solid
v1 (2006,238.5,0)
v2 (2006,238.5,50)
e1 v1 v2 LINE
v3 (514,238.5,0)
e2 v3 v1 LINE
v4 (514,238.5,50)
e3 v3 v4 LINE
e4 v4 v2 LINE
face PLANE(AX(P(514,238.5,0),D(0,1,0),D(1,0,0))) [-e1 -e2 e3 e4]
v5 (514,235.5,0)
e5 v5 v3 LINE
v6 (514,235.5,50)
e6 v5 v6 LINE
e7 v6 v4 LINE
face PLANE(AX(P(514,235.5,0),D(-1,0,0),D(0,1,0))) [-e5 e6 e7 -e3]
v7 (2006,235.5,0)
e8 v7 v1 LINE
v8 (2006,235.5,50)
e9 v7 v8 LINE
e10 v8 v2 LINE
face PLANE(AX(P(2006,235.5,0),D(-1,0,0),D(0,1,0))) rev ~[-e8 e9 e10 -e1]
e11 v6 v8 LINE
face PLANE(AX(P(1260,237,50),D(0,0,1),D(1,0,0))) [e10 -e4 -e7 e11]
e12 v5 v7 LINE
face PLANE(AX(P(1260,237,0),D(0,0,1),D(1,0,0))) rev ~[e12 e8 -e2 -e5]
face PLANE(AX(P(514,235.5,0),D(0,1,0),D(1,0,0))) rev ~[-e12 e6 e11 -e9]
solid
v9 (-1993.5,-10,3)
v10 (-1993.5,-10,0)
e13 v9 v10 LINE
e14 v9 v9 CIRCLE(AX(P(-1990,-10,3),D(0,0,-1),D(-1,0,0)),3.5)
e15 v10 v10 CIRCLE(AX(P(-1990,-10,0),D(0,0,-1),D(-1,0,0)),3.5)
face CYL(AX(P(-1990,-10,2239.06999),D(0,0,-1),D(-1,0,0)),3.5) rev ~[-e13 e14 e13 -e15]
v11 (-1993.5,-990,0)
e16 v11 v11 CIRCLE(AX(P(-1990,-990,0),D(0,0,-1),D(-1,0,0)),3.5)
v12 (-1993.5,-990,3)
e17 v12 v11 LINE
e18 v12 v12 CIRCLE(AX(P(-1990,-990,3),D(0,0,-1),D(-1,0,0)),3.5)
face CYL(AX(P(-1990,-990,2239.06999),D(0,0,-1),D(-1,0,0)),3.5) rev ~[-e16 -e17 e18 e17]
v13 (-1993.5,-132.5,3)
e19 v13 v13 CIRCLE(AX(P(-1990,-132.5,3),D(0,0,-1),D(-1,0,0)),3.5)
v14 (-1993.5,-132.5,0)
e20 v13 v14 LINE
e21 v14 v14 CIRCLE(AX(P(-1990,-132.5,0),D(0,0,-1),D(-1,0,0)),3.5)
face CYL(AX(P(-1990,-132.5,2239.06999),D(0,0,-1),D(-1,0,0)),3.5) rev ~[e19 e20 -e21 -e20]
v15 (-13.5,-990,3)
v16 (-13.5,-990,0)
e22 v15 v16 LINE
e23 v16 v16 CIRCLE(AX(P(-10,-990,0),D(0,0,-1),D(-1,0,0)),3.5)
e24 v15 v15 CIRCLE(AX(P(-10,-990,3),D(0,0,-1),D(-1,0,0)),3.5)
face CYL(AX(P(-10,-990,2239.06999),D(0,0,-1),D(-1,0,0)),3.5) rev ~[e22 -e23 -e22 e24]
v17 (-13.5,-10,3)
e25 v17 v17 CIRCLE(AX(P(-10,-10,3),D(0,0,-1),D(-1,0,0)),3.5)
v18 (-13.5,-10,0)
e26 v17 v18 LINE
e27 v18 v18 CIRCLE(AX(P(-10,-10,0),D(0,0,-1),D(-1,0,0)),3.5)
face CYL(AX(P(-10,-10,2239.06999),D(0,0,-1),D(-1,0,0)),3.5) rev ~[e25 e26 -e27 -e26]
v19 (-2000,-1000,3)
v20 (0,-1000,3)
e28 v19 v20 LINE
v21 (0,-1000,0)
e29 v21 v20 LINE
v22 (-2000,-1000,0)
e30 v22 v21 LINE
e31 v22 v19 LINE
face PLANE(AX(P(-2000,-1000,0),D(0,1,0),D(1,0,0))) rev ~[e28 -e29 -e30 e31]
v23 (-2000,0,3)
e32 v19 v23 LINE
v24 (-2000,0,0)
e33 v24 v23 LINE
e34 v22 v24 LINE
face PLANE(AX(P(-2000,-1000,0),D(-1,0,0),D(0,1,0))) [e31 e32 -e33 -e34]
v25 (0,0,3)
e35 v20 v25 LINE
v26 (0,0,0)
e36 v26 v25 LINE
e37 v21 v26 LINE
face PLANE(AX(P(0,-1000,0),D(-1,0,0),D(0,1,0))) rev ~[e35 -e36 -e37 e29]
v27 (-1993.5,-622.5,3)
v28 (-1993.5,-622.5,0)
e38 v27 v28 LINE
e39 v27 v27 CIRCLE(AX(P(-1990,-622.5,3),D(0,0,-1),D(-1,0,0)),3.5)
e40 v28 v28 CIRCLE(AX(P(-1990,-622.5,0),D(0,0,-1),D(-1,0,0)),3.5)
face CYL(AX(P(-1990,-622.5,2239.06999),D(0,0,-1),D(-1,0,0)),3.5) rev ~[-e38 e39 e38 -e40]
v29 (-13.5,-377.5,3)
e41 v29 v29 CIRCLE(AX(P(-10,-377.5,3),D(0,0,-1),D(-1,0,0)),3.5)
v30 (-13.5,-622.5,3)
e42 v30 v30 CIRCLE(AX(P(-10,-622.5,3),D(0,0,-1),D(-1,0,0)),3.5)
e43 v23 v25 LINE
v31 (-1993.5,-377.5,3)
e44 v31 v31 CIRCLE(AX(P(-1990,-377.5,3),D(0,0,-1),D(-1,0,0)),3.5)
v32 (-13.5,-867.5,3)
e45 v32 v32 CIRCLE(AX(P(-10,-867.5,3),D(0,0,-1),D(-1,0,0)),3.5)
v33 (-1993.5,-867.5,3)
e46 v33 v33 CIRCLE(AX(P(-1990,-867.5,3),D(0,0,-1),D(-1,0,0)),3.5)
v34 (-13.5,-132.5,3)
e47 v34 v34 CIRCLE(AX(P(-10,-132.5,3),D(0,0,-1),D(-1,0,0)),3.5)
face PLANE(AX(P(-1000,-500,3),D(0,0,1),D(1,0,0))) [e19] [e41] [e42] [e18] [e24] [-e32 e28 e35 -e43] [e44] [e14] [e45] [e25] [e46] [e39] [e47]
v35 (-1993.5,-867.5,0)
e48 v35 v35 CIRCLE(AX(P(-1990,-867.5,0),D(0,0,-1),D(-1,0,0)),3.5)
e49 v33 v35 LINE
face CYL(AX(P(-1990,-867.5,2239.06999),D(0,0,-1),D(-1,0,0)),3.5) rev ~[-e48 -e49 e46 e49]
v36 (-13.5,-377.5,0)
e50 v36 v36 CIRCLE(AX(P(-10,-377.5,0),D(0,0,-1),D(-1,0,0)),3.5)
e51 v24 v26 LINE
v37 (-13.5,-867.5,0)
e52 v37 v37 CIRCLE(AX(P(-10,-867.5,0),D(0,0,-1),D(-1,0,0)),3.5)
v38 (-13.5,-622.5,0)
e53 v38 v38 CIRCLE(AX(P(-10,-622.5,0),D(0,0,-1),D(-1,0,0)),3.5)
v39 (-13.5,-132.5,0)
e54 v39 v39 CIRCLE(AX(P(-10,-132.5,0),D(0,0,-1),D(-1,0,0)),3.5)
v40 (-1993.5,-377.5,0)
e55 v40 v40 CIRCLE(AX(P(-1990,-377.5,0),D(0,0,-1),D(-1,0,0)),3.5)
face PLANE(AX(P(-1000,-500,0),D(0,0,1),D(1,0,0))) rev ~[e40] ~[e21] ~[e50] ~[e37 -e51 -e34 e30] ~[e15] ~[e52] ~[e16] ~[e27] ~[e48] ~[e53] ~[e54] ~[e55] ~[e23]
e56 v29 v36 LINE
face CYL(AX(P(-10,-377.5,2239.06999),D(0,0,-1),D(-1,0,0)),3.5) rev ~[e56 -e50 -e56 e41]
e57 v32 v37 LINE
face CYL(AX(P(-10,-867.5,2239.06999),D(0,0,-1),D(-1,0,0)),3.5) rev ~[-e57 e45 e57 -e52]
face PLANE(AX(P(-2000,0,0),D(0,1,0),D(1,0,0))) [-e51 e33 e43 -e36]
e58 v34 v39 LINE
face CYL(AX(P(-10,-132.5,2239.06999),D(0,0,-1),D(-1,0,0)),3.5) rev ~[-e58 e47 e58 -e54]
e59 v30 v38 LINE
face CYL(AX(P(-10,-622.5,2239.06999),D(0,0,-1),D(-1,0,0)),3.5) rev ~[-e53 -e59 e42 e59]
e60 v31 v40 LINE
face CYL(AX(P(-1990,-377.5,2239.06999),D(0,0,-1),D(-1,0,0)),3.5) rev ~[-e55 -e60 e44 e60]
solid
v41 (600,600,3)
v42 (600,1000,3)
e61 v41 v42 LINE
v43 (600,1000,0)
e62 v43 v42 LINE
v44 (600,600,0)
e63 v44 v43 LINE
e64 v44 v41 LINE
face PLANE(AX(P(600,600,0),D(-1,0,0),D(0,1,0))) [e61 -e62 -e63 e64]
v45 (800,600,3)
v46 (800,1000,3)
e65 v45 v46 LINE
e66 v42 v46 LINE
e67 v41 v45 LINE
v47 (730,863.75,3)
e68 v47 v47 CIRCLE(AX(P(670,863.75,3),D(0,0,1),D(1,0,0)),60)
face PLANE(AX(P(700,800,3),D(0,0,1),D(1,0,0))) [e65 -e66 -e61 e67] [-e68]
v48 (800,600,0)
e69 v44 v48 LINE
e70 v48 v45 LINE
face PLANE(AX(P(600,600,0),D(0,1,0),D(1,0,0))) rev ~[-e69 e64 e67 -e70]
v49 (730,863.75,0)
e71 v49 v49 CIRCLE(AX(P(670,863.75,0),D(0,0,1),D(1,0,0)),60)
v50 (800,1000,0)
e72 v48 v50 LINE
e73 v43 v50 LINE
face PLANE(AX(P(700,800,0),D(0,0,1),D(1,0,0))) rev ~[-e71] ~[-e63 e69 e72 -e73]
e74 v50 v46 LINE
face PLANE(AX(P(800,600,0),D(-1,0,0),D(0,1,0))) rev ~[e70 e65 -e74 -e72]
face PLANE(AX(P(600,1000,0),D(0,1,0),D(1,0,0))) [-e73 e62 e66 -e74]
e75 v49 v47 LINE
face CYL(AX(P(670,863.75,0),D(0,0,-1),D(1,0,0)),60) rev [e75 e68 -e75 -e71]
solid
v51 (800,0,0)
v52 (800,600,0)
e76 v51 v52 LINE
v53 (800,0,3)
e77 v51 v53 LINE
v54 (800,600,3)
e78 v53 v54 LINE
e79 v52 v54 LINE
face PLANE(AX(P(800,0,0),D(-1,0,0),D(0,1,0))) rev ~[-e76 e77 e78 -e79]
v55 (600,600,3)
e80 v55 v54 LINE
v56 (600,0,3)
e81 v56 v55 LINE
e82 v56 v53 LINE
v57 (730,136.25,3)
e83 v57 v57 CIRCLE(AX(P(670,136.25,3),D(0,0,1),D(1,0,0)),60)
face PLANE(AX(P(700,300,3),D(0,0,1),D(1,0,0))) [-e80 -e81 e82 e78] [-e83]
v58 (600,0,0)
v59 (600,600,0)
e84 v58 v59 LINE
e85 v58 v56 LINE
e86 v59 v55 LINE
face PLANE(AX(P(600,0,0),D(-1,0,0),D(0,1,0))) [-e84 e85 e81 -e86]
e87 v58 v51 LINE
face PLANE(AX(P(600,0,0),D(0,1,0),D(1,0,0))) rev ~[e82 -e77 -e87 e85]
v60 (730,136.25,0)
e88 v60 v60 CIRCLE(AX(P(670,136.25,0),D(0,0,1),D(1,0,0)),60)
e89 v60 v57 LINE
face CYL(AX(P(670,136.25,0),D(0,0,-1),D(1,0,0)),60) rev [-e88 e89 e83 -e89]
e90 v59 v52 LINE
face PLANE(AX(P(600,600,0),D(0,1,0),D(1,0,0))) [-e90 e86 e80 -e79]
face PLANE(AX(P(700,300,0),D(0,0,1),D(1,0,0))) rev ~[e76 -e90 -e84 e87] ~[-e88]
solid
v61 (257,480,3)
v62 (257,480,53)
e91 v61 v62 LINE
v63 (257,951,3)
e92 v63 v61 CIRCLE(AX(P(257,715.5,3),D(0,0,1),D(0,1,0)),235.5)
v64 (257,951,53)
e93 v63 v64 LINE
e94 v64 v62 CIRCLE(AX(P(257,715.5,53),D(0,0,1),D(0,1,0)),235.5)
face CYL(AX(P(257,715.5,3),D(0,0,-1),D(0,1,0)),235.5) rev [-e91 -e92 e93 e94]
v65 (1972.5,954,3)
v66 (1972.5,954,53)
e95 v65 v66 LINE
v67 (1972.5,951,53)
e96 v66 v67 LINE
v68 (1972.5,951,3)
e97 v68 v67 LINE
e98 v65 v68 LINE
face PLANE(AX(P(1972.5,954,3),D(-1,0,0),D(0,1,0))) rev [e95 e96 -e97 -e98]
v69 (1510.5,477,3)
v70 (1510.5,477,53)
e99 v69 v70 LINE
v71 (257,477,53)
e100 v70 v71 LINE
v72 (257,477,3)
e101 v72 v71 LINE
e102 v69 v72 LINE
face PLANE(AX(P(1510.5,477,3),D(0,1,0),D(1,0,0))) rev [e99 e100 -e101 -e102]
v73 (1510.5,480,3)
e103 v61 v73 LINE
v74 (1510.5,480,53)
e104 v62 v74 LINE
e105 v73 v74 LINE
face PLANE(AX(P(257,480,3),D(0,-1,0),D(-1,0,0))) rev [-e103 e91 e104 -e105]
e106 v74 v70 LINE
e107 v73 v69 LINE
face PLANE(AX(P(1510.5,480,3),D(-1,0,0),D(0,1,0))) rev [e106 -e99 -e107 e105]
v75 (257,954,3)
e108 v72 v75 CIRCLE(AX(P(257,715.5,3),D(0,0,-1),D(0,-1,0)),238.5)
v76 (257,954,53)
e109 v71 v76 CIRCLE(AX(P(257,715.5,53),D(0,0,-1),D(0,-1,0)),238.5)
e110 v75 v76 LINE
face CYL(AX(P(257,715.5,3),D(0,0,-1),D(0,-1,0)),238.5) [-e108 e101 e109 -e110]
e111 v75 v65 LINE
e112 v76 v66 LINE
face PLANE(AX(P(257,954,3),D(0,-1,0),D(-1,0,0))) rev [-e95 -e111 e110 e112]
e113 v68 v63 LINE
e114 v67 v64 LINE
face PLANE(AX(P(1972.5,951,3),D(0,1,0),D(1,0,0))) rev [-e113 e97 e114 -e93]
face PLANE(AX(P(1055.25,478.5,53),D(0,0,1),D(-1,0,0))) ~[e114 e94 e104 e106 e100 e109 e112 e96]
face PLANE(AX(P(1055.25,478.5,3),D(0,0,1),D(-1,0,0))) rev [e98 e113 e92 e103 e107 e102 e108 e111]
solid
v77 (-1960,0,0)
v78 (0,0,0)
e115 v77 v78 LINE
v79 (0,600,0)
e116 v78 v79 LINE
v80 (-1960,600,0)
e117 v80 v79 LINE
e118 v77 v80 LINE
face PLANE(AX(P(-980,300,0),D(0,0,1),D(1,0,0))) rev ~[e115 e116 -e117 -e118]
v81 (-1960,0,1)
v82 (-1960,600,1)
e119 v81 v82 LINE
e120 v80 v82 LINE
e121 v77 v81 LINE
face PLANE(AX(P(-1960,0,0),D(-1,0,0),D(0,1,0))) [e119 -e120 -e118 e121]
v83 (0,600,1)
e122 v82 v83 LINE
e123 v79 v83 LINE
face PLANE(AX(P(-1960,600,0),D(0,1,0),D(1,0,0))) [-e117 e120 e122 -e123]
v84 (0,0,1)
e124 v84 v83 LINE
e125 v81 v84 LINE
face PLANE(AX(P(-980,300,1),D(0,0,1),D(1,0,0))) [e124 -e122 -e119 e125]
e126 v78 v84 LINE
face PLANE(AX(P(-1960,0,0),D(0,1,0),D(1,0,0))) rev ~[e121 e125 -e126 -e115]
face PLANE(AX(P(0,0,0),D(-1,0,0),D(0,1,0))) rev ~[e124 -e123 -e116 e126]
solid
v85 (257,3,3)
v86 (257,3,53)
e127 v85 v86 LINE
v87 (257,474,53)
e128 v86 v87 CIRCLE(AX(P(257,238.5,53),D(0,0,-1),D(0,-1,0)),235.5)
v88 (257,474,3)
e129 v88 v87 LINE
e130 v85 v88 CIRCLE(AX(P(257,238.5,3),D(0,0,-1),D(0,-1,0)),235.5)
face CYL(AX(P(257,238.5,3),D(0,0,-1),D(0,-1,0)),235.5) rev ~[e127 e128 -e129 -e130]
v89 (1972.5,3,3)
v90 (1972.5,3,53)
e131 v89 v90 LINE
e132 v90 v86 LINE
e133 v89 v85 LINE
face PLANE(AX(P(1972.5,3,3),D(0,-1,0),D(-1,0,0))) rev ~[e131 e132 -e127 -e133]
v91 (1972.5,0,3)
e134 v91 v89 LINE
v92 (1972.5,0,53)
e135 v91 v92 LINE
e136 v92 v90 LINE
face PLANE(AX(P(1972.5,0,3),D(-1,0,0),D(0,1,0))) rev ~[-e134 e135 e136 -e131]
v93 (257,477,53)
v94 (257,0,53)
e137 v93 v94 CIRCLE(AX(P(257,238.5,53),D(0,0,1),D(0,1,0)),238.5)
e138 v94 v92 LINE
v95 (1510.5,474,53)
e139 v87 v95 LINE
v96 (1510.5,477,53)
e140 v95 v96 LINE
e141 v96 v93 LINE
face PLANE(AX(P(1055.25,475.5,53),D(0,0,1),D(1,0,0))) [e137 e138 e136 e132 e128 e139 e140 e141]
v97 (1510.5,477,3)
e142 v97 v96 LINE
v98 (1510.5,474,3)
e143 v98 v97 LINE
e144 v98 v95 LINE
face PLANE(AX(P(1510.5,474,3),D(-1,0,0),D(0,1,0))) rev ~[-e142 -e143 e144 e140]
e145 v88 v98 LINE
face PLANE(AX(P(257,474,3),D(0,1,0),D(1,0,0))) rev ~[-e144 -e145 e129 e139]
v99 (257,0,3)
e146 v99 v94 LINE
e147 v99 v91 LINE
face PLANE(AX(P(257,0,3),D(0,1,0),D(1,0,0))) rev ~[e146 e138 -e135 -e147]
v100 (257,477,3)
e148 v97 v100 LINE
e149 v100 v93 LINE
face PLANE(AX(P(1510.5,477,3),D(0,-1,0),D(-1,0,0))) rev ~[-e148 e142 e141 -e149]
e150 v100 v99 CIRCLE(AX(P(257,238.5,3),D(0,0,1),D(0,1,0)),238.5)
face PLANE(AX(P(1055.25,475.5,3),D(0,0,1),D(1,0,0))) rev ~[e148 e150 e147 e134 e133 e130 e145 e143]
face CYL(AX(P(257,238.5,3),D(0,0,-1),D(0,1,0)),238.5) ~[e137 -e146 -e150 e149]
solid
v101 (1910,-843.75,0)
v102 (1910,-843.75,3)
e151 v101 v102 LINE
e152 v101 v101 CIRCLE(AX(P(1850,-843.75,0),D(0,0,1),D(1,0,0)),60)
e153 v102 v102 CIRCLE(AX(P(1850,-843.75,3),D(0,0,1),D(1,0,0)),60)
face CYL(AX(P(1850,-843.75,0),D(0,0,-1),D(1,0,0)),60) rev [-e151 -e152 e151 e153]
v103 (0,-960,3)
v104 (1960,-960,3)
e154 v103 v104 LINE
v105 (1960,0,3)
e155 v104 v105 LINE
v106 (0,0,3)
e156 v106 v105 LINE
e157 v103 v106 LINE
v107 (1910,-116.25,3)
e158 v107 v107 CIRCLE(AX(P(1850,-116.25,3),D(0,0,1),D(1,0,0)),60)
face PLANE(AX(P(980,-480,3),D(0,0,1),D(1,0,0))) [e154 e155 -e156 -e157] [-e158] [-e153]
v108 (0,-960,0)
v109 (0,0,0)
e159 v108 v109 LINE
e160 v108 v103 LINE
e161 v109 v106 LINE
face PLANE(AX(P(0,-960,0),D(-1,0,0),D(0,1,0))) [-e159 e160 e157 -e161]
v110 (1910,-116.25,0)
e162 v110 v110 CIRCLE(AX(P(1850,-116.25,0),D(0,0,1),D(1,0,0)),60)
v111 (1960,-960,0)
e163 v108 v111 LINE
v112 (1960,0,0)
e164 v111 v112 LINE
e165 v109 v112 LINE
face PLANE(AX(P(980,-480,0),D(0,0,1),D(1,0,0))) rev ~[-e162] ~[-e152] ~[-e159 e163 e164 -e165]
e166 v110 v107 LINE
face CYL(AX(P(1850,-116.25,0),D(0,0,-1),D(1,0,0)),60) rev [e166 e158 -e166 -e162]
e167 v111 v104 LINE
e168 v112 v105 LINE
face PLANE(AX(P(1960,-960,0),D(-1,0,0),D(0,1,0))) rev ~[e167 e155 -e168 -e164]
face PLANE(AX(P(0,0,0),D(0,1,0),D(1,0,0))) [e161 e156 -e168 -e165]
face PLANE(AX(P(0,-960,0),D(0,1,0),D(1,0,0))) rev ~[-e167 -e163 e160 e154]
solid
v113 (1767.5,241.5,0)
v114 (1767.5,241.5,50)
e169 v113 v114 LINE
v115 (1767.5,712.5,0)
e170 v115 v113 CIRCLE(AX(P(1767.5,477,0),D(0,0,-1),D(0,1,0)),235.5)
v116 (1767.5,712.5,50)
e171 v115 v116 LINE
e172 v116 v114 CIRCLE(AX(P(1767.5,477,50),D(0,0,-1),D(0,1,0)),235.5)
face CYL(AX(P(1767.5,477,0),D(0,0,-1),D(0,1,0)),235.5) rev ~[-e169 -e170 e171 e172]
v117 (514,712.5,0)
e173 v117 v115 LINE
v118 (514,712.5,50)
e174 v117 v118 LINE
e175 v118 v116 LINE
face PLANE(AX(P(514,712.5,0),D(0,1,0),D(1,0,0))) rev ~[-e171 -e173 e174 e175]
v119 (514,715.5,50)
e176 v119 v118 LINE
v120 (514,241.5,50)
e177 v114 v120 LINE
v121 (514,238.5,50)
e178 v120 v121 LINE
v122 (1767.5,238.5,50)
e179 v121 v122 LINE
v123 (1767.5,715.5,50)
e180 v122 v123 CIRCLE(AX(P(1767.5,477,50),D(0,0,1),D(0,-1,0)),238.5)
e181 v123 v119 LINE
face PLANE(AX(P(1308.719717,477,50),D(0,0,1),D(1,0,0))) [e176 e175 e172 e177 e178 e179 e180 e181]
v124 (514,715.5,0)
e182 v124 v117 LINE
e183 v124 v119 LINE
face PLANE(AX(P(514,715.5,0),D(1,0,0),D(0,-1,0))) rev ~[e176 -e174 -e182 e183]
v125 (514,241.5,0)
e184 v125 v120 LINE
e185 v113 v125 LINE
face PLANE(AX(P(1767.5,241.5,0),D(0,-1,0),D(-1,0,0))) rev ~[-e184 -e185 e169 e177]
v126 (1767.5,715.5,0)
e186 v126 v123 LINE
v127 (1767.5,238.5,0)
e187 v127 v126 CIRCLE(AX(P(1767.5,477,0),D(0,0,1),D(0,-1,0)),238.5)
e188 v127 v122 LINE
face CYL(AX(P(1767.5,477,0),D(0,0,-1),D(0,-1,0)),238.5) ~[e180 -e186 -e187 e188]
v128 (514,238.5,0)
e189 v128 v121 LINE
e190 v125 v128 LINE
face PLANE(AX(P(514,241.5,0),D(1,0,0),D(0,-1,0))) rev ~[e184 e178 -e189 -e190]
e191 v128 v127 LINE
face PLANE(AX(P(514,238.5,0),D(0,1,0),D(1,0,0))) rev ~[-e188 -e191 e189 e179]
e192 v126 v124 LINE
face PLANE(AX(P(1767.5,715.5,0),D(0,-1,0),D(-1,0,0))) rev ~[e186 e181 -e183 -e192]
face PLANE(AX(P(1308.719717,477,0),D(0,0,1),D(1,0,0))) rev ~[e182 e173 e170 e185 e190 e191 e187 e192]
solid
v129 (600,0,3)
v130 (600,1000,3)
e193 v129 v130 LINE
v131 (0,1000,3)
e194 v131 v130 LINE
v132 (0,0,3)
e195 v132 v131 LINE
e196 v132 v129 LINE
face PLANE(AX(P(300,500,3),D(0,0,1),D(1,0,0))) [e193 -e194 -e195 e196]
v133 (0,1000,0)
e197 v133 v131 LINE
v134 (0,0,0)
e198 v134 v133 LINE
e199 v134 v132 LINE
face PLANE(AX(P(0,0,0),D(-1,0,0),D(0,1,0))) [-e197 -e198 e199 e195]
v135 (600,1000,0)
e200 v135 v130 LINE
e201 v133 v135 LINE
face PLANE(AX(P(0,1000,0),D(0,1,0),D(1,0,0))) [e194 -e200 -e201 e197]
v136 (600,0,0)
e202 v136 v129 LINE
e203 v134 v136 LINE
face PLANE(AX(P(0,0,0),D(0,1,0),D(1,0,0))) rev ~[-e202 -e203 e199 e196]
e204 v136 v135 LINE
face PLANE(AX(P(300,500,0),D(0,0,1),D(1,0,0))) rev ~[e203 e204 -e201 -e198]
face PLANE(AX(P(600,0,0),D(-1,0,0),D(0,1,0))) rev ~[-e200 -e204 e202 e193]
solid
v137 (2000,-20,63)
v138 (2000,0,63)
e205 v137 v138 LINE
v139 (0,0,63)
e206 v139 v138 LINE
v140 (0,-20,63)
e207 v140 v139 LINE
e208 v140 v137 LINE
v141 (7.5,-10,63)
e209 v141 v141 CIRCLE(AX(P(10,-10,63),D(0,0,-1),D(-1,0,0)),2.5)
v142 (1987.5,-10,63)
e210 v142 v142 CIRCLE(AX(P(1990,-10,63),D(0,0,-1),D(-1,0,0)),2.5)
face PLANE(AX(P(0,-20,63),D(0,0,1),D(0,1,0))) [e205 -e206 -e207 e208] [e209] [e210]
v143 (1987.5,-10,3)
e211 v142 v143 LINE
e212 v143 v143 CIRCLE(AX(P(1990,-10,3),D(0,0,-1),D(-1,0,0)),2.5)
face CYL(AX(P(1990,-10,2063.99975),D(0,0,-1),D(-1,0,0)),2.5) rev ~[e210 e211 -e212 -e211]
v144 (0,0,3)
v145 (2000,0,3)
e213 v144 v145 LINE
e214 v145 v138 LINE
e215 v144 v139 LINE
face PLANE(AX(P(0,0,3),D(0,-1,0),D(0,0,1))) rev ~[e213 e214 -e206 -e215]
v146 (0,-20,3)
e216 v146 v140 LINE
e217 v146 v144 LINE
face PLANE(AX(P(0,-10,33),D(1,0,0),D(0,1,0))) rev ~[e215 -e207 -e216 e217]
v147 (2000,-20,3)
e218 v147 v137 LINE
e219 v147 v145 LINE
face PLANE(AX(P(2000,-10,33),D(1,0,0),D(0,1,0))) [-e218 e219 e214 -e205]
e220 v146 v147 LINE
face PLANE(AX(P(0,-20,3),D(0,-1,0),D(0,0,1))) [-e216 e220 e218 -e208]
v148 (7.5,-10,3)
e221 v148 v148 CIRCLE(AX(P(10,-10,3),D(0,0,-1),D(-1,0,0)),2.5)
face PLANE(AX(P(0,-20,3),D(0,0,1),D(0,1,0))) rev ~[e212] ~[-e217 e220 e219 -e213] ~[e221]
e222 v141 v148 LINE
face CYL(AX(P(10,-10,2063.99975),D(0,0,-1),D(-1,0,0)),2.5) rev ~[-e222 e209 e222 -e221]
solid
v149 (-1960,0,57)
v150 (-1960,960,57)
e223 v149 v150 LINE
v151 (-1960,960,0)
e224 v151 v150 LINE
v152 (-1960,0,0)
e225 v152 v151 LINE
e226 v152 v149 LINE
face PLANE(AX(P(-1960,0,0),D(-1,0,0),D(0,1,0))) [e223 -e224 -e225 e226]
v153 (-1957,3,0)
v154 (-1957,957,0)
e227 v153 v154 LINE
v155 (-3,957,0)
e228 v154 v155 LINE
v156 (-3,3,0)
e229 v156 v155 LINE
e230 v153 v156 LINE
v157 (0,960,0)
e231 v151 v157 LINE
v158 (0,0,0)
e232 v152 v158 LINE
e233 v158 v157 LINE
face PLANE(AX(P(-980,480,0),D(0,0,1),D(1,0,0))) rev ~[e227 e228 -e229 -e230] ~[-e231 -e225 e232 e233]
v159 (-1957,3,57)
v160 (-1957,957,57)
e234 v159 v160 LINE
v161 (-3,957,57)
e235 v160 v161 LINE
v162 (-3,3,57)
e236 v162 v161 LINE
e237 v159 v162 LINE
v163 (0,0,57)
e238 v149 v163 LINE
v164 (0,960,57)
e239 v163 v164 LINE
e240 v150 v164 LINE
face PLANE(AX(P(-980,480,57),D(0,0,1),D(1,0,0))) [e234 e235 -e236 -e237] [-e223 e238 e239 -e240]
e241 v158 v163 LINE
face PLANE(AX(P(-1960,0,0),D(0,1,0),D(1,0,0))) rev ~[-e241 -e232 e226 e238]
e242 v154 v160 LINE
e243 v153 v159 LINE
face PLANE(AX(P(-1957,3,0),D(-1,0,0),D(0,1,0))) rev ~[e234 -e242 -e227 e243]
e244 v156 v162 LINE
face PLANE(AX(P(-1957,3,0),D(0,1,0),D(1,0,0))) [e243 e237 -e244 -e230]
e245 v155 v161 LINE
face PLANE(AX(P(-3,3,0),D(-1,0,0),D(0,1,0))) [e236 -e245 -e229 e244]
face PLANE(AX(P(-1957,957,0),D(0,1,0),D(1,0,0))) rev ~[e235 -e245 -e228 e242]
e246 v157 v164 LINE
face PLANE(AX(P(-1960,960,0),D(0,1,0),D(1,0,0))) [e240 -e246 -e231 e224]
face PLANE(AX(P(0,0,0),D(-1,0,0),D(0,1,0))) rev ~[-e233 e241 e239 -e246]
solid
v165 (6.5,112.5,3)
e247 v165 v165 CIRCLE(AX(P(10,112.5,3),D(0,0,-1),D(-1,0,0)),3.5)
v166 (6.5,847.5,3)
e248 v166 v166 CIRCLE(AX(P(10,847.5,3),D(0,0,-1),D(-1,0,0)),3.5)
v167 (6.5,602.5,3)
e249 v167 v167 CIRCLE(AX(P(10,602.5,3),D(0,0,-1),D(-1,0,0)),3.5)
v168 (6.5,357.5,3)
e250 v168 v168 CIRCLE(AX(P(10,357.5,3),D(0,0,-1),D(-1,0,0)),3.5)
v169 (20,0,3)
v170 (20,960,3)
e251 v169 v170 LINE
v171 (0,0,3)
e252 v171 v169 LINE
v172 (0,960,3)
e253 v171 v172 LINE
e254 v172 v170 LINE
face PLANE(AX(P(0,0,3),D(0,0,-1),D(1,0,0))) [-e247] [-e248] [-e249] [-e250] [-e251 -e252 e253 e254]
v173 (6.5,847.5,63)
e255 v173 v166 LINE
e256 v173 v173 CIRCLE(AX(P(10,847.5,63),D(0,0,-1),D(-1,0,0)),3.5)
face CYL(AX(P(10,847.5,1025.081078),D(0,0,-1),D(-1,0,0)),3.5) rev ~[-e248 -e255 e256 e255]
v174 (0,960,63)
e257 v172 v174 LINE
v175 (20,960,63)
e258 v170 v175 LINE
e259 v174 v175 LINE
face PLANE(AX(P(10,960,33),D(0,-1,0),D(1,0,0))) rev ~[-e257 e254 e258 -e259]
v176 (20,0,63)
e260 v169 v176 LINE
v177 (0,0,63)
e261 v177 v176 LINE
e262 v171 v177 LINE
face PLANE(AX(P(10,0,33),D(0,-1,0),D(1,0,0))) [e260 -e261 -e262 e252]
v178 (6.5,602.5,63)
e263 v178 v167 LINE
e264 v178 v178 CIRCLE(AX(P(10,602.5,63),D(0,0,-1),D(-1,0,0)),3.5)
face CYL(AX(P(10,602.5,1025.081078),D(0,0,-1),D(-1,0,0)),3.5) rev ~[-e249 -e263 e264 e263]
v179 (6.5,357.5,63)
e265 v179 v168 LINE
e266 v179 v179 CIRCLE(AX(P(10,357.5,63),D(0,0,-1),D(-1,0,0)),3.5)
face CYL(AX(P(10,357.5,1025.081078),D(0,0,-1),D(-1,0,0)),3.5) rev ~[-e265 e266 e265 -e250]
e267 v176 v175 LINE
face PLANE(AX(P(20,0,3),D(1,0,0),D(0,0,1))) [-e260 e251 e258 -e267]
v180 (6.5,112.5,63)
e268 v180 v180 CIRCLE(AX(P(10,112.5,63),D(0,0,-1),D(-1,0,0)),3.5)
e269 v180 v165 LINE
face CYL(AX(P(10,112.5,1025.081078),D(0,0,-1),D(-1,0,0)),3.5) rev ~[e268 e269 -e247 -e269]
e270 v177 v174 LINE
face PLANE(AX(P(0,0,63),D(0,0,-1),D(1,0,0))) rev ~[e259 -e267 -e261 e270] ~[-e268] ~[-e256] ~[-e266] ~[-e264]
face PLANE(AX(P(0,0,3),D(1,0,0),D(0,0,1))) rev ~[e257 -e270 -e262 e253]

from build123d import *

# Parameters (mm, degrees)
F0_W      = 600
F0_H      = 1000
F1_DEPTH  = 3
F2_W      = 200
F2_H      = 600
F2_R      = 60
F3_DEPTH  = 3
F4_W      = 200
F4_H      = 400
F4_R      = 60
F5_DEPTH  = 3
F6_W      = 910.5
F6_H      = 3
F6_W_2    = 1372.5
F7_DEPTH  = 50
F10_DEPTH = 50
F11_W     = 1960
F11_H     = 960
F11_R     = 60
F12_DEPTH = 3
F13_W     = 1960
F13_H     = 600
F14_DEPTH = 1
F15_W     = 20
F15_H     = 60
F16_DEPTH = 2000
F18_D     = 5
F19_W     = 20
F19_H     = 60
F20_DEPTH = 960
F22_D     = 7
F23_W     = 2000
F23_H     = 1000
F24_DEPTH = 3
F26_D     = 7
F27_W     = 1960
F27_H     = 960
F27_W_2   = 1954
F27_H_2   = 954
F28_DEPTH = 57
F29_W     = 1492
F29_H     = 3
F30_DEPTH = 50


with BuildPart() as f1:
    # F0 (on Top) → F1 (new body)
    with BuildSketch(Plane.XY):
        with Locations((300, 500)):
            Rectangle(F0_W, F0_H)
    extrude(amount=F1_DEPTH)


with BuildPart() as f3:
    # F2 (on Top) → F3 (new body)
    with BuildSketch(Plane.XY):
        with Locations((700, 300)):
            Rectangle(F2_W, F2_H)
        with Locations((670, 136.25)):
            Circle(F2_R, mode=Mode.SUBTRACT)
    extrude(amount=F3_DEPTH)


with BuildPart() as f5:
    # F4 (on Top) → F5 (new body)
    with BuildSketch(Plane.XY):
        with Locations((700, 800)):
            Rectangle(F4_W, F4_H)
        with Locations((670, 863.75)):
            Circle(F4_R, mode=Mode.SUBTRACT)
    extrude(amount=F5_DEPTH)


with BuildPart() as f7:
    # F6 (on face) → F7 (new body)
    with BuildSketch(Plane.XY.offset(3)):
        with Locations((1055.25, 475.5)):
            Rectangle(F6_W, F6_H)
        with BuildLine():
            Line((600, 477), (257, 477))
            ThreePointArc((257, 477), (18.5, 238.5), (257, 0))
            Line((257, 0), (600, 0))
            Line((600, 0), (600, 3))
            Line((600, 3), (257, 3))
            ThreePointArc((257, 3), (21.5, 238.5), (257, 474))
            Line((257, 474), (600, 474))
            Line((600, 474), (600, 477))
        make_face()
        with Locations((1286.25, 1.5)):
            Rectangle(F6_W_2, F6_H)
    extrude(amount=F7_DEPTH)


with BuildPart() as f8_1:
    # F8: instance of F7
    add(f7.part.mirror(Plane(origin=(883.75, 477, 28), x_dir=(-1, 0, 0), z_dir=(0, 1, 0))))


with BuildPart() as f10:
    # F9 (on Top) → F10 (new body)
    with BuildSketch(Plane.XY):
        with BuildLine():
            Line((514, 238.5), (1767.5, 238.5))
            ThreePointArc((1767.5, 238.5), (2006, 477), (1767.5, 715.5))
            Line((1767.5, 715.5), (514, 715.5))
            Line((514, 715.5), (514, 712.5))
            Line((514, 712.5), (1767.5, 712.5))
            ThreePointArc((1767.5, 712.5), (2003, 477), (1767.5, 241.5))
            Line((1767.5, 241.5), (514, 241.5))
            Line((514, 241.5), (514, 238.5))
        make_face()
    extrude(amount=F10_DEPTH)


with BuildPart() as f12:
    # F11 (on Top) → F12 (new body)
    with BuildSketch(Plane.XY):
        with Locations((980, -480)):
            Rectangle(F11_W, F11_H)
        with Locations((1850, -843.75)):
            Circle(F11_R, mode=Mode.SUBTRACT)
        with Locations((1850, -116.25)):
            Circle(F11_R, mode=Mode.SUBTRACT)
    extrude(amount=F12_DEPTH)


with BuildPart() as f14:
    # F13 (on Top) → F14 (new body)
    with BuildSketch(Plane.XY):
        with Locations((-980, 300)):
            Rectangle(F13_W, F13_H)
    extrude(amount=F14_DEPTH)


with BuildPart() as f16:
    # F15 (on Right) → F16 (new body)
    with BuildSketch(Plane.YZ):
        with Locations((-10, 33)):
            Rectangle(F15_W, F15_H)
    extrude(amount=F16_DEPTH)

    # F18 (through all)
    with Locations(Plane.XY.offset(63)):
        with Locations((10, -10), (1990, -10)):
            Hole(F18_D / 2)


with BuildPart() as f20:
    # F19 (on Front) → F20 (new body)
    with BuildSketch(Plane.XZ):
        with Locations((10, 33)):
            Rectangle(F19_W, F19_H)
    extrude(amount=-F20_DEPTH)

    # F22 (through all)
    with Locations(Plane.XY.offset(63)):
        with Locations((10, 112.5), (10, 357.5), (10, 602.5), (10, 847.5)):
            Hole(F22_D / 2)


with BuildPart() as f24:
    # F23 (on Top) → F24 (new body)
    with BuildSketch(Plane.XY):
        with Locations((-1000, -500)):
            Rectangle(F23_W, F23_H)
    extrude(amount=F24_DEPTH)

    # F26 (through all)
    with Locations(Plane.XY.offset(3)):
        with Locations((-1990, -990), (-1990, -867.5), (-1990, -622.5), (-1990, -377.5), (-1990, -132.5), (-1990, -10), (-10, -10), (-10, -990), (-10, -867.5), (-10, -622.5), (-10, -377.5), (-10, -132.5)):
            Hole(F26_D / 2)


with BuildPart() as f28:
    # F27 (on Top) → F28 (new body)
    with BuildSketch(Plane.XY):
        with Locations((-980, 480)):
            Rectangle(F27_W, F27_H)
        with Locations((-980, 480)):
            Rectangle(F27_W_2, F27_H_2, mode=Mode.SUBTRACT)
    extrude(amount=F28_DEPTH)


with BuildPart() as f30:
    # F29 (on Top) → F30 (new body)
    with BuildSketch(Plane.XY):
        with Locations((1260, 237)):
            Rectangle(F29_W, F29_H)
    extrude(amount=F30_DEPTH)


solid = Compound([f1.part, f3.part, f5.part, f7.part, f8_1.part, f10.part, f12.part, f14.part, f16.part, f20.part, f24.part, f28.part, f30.part])
